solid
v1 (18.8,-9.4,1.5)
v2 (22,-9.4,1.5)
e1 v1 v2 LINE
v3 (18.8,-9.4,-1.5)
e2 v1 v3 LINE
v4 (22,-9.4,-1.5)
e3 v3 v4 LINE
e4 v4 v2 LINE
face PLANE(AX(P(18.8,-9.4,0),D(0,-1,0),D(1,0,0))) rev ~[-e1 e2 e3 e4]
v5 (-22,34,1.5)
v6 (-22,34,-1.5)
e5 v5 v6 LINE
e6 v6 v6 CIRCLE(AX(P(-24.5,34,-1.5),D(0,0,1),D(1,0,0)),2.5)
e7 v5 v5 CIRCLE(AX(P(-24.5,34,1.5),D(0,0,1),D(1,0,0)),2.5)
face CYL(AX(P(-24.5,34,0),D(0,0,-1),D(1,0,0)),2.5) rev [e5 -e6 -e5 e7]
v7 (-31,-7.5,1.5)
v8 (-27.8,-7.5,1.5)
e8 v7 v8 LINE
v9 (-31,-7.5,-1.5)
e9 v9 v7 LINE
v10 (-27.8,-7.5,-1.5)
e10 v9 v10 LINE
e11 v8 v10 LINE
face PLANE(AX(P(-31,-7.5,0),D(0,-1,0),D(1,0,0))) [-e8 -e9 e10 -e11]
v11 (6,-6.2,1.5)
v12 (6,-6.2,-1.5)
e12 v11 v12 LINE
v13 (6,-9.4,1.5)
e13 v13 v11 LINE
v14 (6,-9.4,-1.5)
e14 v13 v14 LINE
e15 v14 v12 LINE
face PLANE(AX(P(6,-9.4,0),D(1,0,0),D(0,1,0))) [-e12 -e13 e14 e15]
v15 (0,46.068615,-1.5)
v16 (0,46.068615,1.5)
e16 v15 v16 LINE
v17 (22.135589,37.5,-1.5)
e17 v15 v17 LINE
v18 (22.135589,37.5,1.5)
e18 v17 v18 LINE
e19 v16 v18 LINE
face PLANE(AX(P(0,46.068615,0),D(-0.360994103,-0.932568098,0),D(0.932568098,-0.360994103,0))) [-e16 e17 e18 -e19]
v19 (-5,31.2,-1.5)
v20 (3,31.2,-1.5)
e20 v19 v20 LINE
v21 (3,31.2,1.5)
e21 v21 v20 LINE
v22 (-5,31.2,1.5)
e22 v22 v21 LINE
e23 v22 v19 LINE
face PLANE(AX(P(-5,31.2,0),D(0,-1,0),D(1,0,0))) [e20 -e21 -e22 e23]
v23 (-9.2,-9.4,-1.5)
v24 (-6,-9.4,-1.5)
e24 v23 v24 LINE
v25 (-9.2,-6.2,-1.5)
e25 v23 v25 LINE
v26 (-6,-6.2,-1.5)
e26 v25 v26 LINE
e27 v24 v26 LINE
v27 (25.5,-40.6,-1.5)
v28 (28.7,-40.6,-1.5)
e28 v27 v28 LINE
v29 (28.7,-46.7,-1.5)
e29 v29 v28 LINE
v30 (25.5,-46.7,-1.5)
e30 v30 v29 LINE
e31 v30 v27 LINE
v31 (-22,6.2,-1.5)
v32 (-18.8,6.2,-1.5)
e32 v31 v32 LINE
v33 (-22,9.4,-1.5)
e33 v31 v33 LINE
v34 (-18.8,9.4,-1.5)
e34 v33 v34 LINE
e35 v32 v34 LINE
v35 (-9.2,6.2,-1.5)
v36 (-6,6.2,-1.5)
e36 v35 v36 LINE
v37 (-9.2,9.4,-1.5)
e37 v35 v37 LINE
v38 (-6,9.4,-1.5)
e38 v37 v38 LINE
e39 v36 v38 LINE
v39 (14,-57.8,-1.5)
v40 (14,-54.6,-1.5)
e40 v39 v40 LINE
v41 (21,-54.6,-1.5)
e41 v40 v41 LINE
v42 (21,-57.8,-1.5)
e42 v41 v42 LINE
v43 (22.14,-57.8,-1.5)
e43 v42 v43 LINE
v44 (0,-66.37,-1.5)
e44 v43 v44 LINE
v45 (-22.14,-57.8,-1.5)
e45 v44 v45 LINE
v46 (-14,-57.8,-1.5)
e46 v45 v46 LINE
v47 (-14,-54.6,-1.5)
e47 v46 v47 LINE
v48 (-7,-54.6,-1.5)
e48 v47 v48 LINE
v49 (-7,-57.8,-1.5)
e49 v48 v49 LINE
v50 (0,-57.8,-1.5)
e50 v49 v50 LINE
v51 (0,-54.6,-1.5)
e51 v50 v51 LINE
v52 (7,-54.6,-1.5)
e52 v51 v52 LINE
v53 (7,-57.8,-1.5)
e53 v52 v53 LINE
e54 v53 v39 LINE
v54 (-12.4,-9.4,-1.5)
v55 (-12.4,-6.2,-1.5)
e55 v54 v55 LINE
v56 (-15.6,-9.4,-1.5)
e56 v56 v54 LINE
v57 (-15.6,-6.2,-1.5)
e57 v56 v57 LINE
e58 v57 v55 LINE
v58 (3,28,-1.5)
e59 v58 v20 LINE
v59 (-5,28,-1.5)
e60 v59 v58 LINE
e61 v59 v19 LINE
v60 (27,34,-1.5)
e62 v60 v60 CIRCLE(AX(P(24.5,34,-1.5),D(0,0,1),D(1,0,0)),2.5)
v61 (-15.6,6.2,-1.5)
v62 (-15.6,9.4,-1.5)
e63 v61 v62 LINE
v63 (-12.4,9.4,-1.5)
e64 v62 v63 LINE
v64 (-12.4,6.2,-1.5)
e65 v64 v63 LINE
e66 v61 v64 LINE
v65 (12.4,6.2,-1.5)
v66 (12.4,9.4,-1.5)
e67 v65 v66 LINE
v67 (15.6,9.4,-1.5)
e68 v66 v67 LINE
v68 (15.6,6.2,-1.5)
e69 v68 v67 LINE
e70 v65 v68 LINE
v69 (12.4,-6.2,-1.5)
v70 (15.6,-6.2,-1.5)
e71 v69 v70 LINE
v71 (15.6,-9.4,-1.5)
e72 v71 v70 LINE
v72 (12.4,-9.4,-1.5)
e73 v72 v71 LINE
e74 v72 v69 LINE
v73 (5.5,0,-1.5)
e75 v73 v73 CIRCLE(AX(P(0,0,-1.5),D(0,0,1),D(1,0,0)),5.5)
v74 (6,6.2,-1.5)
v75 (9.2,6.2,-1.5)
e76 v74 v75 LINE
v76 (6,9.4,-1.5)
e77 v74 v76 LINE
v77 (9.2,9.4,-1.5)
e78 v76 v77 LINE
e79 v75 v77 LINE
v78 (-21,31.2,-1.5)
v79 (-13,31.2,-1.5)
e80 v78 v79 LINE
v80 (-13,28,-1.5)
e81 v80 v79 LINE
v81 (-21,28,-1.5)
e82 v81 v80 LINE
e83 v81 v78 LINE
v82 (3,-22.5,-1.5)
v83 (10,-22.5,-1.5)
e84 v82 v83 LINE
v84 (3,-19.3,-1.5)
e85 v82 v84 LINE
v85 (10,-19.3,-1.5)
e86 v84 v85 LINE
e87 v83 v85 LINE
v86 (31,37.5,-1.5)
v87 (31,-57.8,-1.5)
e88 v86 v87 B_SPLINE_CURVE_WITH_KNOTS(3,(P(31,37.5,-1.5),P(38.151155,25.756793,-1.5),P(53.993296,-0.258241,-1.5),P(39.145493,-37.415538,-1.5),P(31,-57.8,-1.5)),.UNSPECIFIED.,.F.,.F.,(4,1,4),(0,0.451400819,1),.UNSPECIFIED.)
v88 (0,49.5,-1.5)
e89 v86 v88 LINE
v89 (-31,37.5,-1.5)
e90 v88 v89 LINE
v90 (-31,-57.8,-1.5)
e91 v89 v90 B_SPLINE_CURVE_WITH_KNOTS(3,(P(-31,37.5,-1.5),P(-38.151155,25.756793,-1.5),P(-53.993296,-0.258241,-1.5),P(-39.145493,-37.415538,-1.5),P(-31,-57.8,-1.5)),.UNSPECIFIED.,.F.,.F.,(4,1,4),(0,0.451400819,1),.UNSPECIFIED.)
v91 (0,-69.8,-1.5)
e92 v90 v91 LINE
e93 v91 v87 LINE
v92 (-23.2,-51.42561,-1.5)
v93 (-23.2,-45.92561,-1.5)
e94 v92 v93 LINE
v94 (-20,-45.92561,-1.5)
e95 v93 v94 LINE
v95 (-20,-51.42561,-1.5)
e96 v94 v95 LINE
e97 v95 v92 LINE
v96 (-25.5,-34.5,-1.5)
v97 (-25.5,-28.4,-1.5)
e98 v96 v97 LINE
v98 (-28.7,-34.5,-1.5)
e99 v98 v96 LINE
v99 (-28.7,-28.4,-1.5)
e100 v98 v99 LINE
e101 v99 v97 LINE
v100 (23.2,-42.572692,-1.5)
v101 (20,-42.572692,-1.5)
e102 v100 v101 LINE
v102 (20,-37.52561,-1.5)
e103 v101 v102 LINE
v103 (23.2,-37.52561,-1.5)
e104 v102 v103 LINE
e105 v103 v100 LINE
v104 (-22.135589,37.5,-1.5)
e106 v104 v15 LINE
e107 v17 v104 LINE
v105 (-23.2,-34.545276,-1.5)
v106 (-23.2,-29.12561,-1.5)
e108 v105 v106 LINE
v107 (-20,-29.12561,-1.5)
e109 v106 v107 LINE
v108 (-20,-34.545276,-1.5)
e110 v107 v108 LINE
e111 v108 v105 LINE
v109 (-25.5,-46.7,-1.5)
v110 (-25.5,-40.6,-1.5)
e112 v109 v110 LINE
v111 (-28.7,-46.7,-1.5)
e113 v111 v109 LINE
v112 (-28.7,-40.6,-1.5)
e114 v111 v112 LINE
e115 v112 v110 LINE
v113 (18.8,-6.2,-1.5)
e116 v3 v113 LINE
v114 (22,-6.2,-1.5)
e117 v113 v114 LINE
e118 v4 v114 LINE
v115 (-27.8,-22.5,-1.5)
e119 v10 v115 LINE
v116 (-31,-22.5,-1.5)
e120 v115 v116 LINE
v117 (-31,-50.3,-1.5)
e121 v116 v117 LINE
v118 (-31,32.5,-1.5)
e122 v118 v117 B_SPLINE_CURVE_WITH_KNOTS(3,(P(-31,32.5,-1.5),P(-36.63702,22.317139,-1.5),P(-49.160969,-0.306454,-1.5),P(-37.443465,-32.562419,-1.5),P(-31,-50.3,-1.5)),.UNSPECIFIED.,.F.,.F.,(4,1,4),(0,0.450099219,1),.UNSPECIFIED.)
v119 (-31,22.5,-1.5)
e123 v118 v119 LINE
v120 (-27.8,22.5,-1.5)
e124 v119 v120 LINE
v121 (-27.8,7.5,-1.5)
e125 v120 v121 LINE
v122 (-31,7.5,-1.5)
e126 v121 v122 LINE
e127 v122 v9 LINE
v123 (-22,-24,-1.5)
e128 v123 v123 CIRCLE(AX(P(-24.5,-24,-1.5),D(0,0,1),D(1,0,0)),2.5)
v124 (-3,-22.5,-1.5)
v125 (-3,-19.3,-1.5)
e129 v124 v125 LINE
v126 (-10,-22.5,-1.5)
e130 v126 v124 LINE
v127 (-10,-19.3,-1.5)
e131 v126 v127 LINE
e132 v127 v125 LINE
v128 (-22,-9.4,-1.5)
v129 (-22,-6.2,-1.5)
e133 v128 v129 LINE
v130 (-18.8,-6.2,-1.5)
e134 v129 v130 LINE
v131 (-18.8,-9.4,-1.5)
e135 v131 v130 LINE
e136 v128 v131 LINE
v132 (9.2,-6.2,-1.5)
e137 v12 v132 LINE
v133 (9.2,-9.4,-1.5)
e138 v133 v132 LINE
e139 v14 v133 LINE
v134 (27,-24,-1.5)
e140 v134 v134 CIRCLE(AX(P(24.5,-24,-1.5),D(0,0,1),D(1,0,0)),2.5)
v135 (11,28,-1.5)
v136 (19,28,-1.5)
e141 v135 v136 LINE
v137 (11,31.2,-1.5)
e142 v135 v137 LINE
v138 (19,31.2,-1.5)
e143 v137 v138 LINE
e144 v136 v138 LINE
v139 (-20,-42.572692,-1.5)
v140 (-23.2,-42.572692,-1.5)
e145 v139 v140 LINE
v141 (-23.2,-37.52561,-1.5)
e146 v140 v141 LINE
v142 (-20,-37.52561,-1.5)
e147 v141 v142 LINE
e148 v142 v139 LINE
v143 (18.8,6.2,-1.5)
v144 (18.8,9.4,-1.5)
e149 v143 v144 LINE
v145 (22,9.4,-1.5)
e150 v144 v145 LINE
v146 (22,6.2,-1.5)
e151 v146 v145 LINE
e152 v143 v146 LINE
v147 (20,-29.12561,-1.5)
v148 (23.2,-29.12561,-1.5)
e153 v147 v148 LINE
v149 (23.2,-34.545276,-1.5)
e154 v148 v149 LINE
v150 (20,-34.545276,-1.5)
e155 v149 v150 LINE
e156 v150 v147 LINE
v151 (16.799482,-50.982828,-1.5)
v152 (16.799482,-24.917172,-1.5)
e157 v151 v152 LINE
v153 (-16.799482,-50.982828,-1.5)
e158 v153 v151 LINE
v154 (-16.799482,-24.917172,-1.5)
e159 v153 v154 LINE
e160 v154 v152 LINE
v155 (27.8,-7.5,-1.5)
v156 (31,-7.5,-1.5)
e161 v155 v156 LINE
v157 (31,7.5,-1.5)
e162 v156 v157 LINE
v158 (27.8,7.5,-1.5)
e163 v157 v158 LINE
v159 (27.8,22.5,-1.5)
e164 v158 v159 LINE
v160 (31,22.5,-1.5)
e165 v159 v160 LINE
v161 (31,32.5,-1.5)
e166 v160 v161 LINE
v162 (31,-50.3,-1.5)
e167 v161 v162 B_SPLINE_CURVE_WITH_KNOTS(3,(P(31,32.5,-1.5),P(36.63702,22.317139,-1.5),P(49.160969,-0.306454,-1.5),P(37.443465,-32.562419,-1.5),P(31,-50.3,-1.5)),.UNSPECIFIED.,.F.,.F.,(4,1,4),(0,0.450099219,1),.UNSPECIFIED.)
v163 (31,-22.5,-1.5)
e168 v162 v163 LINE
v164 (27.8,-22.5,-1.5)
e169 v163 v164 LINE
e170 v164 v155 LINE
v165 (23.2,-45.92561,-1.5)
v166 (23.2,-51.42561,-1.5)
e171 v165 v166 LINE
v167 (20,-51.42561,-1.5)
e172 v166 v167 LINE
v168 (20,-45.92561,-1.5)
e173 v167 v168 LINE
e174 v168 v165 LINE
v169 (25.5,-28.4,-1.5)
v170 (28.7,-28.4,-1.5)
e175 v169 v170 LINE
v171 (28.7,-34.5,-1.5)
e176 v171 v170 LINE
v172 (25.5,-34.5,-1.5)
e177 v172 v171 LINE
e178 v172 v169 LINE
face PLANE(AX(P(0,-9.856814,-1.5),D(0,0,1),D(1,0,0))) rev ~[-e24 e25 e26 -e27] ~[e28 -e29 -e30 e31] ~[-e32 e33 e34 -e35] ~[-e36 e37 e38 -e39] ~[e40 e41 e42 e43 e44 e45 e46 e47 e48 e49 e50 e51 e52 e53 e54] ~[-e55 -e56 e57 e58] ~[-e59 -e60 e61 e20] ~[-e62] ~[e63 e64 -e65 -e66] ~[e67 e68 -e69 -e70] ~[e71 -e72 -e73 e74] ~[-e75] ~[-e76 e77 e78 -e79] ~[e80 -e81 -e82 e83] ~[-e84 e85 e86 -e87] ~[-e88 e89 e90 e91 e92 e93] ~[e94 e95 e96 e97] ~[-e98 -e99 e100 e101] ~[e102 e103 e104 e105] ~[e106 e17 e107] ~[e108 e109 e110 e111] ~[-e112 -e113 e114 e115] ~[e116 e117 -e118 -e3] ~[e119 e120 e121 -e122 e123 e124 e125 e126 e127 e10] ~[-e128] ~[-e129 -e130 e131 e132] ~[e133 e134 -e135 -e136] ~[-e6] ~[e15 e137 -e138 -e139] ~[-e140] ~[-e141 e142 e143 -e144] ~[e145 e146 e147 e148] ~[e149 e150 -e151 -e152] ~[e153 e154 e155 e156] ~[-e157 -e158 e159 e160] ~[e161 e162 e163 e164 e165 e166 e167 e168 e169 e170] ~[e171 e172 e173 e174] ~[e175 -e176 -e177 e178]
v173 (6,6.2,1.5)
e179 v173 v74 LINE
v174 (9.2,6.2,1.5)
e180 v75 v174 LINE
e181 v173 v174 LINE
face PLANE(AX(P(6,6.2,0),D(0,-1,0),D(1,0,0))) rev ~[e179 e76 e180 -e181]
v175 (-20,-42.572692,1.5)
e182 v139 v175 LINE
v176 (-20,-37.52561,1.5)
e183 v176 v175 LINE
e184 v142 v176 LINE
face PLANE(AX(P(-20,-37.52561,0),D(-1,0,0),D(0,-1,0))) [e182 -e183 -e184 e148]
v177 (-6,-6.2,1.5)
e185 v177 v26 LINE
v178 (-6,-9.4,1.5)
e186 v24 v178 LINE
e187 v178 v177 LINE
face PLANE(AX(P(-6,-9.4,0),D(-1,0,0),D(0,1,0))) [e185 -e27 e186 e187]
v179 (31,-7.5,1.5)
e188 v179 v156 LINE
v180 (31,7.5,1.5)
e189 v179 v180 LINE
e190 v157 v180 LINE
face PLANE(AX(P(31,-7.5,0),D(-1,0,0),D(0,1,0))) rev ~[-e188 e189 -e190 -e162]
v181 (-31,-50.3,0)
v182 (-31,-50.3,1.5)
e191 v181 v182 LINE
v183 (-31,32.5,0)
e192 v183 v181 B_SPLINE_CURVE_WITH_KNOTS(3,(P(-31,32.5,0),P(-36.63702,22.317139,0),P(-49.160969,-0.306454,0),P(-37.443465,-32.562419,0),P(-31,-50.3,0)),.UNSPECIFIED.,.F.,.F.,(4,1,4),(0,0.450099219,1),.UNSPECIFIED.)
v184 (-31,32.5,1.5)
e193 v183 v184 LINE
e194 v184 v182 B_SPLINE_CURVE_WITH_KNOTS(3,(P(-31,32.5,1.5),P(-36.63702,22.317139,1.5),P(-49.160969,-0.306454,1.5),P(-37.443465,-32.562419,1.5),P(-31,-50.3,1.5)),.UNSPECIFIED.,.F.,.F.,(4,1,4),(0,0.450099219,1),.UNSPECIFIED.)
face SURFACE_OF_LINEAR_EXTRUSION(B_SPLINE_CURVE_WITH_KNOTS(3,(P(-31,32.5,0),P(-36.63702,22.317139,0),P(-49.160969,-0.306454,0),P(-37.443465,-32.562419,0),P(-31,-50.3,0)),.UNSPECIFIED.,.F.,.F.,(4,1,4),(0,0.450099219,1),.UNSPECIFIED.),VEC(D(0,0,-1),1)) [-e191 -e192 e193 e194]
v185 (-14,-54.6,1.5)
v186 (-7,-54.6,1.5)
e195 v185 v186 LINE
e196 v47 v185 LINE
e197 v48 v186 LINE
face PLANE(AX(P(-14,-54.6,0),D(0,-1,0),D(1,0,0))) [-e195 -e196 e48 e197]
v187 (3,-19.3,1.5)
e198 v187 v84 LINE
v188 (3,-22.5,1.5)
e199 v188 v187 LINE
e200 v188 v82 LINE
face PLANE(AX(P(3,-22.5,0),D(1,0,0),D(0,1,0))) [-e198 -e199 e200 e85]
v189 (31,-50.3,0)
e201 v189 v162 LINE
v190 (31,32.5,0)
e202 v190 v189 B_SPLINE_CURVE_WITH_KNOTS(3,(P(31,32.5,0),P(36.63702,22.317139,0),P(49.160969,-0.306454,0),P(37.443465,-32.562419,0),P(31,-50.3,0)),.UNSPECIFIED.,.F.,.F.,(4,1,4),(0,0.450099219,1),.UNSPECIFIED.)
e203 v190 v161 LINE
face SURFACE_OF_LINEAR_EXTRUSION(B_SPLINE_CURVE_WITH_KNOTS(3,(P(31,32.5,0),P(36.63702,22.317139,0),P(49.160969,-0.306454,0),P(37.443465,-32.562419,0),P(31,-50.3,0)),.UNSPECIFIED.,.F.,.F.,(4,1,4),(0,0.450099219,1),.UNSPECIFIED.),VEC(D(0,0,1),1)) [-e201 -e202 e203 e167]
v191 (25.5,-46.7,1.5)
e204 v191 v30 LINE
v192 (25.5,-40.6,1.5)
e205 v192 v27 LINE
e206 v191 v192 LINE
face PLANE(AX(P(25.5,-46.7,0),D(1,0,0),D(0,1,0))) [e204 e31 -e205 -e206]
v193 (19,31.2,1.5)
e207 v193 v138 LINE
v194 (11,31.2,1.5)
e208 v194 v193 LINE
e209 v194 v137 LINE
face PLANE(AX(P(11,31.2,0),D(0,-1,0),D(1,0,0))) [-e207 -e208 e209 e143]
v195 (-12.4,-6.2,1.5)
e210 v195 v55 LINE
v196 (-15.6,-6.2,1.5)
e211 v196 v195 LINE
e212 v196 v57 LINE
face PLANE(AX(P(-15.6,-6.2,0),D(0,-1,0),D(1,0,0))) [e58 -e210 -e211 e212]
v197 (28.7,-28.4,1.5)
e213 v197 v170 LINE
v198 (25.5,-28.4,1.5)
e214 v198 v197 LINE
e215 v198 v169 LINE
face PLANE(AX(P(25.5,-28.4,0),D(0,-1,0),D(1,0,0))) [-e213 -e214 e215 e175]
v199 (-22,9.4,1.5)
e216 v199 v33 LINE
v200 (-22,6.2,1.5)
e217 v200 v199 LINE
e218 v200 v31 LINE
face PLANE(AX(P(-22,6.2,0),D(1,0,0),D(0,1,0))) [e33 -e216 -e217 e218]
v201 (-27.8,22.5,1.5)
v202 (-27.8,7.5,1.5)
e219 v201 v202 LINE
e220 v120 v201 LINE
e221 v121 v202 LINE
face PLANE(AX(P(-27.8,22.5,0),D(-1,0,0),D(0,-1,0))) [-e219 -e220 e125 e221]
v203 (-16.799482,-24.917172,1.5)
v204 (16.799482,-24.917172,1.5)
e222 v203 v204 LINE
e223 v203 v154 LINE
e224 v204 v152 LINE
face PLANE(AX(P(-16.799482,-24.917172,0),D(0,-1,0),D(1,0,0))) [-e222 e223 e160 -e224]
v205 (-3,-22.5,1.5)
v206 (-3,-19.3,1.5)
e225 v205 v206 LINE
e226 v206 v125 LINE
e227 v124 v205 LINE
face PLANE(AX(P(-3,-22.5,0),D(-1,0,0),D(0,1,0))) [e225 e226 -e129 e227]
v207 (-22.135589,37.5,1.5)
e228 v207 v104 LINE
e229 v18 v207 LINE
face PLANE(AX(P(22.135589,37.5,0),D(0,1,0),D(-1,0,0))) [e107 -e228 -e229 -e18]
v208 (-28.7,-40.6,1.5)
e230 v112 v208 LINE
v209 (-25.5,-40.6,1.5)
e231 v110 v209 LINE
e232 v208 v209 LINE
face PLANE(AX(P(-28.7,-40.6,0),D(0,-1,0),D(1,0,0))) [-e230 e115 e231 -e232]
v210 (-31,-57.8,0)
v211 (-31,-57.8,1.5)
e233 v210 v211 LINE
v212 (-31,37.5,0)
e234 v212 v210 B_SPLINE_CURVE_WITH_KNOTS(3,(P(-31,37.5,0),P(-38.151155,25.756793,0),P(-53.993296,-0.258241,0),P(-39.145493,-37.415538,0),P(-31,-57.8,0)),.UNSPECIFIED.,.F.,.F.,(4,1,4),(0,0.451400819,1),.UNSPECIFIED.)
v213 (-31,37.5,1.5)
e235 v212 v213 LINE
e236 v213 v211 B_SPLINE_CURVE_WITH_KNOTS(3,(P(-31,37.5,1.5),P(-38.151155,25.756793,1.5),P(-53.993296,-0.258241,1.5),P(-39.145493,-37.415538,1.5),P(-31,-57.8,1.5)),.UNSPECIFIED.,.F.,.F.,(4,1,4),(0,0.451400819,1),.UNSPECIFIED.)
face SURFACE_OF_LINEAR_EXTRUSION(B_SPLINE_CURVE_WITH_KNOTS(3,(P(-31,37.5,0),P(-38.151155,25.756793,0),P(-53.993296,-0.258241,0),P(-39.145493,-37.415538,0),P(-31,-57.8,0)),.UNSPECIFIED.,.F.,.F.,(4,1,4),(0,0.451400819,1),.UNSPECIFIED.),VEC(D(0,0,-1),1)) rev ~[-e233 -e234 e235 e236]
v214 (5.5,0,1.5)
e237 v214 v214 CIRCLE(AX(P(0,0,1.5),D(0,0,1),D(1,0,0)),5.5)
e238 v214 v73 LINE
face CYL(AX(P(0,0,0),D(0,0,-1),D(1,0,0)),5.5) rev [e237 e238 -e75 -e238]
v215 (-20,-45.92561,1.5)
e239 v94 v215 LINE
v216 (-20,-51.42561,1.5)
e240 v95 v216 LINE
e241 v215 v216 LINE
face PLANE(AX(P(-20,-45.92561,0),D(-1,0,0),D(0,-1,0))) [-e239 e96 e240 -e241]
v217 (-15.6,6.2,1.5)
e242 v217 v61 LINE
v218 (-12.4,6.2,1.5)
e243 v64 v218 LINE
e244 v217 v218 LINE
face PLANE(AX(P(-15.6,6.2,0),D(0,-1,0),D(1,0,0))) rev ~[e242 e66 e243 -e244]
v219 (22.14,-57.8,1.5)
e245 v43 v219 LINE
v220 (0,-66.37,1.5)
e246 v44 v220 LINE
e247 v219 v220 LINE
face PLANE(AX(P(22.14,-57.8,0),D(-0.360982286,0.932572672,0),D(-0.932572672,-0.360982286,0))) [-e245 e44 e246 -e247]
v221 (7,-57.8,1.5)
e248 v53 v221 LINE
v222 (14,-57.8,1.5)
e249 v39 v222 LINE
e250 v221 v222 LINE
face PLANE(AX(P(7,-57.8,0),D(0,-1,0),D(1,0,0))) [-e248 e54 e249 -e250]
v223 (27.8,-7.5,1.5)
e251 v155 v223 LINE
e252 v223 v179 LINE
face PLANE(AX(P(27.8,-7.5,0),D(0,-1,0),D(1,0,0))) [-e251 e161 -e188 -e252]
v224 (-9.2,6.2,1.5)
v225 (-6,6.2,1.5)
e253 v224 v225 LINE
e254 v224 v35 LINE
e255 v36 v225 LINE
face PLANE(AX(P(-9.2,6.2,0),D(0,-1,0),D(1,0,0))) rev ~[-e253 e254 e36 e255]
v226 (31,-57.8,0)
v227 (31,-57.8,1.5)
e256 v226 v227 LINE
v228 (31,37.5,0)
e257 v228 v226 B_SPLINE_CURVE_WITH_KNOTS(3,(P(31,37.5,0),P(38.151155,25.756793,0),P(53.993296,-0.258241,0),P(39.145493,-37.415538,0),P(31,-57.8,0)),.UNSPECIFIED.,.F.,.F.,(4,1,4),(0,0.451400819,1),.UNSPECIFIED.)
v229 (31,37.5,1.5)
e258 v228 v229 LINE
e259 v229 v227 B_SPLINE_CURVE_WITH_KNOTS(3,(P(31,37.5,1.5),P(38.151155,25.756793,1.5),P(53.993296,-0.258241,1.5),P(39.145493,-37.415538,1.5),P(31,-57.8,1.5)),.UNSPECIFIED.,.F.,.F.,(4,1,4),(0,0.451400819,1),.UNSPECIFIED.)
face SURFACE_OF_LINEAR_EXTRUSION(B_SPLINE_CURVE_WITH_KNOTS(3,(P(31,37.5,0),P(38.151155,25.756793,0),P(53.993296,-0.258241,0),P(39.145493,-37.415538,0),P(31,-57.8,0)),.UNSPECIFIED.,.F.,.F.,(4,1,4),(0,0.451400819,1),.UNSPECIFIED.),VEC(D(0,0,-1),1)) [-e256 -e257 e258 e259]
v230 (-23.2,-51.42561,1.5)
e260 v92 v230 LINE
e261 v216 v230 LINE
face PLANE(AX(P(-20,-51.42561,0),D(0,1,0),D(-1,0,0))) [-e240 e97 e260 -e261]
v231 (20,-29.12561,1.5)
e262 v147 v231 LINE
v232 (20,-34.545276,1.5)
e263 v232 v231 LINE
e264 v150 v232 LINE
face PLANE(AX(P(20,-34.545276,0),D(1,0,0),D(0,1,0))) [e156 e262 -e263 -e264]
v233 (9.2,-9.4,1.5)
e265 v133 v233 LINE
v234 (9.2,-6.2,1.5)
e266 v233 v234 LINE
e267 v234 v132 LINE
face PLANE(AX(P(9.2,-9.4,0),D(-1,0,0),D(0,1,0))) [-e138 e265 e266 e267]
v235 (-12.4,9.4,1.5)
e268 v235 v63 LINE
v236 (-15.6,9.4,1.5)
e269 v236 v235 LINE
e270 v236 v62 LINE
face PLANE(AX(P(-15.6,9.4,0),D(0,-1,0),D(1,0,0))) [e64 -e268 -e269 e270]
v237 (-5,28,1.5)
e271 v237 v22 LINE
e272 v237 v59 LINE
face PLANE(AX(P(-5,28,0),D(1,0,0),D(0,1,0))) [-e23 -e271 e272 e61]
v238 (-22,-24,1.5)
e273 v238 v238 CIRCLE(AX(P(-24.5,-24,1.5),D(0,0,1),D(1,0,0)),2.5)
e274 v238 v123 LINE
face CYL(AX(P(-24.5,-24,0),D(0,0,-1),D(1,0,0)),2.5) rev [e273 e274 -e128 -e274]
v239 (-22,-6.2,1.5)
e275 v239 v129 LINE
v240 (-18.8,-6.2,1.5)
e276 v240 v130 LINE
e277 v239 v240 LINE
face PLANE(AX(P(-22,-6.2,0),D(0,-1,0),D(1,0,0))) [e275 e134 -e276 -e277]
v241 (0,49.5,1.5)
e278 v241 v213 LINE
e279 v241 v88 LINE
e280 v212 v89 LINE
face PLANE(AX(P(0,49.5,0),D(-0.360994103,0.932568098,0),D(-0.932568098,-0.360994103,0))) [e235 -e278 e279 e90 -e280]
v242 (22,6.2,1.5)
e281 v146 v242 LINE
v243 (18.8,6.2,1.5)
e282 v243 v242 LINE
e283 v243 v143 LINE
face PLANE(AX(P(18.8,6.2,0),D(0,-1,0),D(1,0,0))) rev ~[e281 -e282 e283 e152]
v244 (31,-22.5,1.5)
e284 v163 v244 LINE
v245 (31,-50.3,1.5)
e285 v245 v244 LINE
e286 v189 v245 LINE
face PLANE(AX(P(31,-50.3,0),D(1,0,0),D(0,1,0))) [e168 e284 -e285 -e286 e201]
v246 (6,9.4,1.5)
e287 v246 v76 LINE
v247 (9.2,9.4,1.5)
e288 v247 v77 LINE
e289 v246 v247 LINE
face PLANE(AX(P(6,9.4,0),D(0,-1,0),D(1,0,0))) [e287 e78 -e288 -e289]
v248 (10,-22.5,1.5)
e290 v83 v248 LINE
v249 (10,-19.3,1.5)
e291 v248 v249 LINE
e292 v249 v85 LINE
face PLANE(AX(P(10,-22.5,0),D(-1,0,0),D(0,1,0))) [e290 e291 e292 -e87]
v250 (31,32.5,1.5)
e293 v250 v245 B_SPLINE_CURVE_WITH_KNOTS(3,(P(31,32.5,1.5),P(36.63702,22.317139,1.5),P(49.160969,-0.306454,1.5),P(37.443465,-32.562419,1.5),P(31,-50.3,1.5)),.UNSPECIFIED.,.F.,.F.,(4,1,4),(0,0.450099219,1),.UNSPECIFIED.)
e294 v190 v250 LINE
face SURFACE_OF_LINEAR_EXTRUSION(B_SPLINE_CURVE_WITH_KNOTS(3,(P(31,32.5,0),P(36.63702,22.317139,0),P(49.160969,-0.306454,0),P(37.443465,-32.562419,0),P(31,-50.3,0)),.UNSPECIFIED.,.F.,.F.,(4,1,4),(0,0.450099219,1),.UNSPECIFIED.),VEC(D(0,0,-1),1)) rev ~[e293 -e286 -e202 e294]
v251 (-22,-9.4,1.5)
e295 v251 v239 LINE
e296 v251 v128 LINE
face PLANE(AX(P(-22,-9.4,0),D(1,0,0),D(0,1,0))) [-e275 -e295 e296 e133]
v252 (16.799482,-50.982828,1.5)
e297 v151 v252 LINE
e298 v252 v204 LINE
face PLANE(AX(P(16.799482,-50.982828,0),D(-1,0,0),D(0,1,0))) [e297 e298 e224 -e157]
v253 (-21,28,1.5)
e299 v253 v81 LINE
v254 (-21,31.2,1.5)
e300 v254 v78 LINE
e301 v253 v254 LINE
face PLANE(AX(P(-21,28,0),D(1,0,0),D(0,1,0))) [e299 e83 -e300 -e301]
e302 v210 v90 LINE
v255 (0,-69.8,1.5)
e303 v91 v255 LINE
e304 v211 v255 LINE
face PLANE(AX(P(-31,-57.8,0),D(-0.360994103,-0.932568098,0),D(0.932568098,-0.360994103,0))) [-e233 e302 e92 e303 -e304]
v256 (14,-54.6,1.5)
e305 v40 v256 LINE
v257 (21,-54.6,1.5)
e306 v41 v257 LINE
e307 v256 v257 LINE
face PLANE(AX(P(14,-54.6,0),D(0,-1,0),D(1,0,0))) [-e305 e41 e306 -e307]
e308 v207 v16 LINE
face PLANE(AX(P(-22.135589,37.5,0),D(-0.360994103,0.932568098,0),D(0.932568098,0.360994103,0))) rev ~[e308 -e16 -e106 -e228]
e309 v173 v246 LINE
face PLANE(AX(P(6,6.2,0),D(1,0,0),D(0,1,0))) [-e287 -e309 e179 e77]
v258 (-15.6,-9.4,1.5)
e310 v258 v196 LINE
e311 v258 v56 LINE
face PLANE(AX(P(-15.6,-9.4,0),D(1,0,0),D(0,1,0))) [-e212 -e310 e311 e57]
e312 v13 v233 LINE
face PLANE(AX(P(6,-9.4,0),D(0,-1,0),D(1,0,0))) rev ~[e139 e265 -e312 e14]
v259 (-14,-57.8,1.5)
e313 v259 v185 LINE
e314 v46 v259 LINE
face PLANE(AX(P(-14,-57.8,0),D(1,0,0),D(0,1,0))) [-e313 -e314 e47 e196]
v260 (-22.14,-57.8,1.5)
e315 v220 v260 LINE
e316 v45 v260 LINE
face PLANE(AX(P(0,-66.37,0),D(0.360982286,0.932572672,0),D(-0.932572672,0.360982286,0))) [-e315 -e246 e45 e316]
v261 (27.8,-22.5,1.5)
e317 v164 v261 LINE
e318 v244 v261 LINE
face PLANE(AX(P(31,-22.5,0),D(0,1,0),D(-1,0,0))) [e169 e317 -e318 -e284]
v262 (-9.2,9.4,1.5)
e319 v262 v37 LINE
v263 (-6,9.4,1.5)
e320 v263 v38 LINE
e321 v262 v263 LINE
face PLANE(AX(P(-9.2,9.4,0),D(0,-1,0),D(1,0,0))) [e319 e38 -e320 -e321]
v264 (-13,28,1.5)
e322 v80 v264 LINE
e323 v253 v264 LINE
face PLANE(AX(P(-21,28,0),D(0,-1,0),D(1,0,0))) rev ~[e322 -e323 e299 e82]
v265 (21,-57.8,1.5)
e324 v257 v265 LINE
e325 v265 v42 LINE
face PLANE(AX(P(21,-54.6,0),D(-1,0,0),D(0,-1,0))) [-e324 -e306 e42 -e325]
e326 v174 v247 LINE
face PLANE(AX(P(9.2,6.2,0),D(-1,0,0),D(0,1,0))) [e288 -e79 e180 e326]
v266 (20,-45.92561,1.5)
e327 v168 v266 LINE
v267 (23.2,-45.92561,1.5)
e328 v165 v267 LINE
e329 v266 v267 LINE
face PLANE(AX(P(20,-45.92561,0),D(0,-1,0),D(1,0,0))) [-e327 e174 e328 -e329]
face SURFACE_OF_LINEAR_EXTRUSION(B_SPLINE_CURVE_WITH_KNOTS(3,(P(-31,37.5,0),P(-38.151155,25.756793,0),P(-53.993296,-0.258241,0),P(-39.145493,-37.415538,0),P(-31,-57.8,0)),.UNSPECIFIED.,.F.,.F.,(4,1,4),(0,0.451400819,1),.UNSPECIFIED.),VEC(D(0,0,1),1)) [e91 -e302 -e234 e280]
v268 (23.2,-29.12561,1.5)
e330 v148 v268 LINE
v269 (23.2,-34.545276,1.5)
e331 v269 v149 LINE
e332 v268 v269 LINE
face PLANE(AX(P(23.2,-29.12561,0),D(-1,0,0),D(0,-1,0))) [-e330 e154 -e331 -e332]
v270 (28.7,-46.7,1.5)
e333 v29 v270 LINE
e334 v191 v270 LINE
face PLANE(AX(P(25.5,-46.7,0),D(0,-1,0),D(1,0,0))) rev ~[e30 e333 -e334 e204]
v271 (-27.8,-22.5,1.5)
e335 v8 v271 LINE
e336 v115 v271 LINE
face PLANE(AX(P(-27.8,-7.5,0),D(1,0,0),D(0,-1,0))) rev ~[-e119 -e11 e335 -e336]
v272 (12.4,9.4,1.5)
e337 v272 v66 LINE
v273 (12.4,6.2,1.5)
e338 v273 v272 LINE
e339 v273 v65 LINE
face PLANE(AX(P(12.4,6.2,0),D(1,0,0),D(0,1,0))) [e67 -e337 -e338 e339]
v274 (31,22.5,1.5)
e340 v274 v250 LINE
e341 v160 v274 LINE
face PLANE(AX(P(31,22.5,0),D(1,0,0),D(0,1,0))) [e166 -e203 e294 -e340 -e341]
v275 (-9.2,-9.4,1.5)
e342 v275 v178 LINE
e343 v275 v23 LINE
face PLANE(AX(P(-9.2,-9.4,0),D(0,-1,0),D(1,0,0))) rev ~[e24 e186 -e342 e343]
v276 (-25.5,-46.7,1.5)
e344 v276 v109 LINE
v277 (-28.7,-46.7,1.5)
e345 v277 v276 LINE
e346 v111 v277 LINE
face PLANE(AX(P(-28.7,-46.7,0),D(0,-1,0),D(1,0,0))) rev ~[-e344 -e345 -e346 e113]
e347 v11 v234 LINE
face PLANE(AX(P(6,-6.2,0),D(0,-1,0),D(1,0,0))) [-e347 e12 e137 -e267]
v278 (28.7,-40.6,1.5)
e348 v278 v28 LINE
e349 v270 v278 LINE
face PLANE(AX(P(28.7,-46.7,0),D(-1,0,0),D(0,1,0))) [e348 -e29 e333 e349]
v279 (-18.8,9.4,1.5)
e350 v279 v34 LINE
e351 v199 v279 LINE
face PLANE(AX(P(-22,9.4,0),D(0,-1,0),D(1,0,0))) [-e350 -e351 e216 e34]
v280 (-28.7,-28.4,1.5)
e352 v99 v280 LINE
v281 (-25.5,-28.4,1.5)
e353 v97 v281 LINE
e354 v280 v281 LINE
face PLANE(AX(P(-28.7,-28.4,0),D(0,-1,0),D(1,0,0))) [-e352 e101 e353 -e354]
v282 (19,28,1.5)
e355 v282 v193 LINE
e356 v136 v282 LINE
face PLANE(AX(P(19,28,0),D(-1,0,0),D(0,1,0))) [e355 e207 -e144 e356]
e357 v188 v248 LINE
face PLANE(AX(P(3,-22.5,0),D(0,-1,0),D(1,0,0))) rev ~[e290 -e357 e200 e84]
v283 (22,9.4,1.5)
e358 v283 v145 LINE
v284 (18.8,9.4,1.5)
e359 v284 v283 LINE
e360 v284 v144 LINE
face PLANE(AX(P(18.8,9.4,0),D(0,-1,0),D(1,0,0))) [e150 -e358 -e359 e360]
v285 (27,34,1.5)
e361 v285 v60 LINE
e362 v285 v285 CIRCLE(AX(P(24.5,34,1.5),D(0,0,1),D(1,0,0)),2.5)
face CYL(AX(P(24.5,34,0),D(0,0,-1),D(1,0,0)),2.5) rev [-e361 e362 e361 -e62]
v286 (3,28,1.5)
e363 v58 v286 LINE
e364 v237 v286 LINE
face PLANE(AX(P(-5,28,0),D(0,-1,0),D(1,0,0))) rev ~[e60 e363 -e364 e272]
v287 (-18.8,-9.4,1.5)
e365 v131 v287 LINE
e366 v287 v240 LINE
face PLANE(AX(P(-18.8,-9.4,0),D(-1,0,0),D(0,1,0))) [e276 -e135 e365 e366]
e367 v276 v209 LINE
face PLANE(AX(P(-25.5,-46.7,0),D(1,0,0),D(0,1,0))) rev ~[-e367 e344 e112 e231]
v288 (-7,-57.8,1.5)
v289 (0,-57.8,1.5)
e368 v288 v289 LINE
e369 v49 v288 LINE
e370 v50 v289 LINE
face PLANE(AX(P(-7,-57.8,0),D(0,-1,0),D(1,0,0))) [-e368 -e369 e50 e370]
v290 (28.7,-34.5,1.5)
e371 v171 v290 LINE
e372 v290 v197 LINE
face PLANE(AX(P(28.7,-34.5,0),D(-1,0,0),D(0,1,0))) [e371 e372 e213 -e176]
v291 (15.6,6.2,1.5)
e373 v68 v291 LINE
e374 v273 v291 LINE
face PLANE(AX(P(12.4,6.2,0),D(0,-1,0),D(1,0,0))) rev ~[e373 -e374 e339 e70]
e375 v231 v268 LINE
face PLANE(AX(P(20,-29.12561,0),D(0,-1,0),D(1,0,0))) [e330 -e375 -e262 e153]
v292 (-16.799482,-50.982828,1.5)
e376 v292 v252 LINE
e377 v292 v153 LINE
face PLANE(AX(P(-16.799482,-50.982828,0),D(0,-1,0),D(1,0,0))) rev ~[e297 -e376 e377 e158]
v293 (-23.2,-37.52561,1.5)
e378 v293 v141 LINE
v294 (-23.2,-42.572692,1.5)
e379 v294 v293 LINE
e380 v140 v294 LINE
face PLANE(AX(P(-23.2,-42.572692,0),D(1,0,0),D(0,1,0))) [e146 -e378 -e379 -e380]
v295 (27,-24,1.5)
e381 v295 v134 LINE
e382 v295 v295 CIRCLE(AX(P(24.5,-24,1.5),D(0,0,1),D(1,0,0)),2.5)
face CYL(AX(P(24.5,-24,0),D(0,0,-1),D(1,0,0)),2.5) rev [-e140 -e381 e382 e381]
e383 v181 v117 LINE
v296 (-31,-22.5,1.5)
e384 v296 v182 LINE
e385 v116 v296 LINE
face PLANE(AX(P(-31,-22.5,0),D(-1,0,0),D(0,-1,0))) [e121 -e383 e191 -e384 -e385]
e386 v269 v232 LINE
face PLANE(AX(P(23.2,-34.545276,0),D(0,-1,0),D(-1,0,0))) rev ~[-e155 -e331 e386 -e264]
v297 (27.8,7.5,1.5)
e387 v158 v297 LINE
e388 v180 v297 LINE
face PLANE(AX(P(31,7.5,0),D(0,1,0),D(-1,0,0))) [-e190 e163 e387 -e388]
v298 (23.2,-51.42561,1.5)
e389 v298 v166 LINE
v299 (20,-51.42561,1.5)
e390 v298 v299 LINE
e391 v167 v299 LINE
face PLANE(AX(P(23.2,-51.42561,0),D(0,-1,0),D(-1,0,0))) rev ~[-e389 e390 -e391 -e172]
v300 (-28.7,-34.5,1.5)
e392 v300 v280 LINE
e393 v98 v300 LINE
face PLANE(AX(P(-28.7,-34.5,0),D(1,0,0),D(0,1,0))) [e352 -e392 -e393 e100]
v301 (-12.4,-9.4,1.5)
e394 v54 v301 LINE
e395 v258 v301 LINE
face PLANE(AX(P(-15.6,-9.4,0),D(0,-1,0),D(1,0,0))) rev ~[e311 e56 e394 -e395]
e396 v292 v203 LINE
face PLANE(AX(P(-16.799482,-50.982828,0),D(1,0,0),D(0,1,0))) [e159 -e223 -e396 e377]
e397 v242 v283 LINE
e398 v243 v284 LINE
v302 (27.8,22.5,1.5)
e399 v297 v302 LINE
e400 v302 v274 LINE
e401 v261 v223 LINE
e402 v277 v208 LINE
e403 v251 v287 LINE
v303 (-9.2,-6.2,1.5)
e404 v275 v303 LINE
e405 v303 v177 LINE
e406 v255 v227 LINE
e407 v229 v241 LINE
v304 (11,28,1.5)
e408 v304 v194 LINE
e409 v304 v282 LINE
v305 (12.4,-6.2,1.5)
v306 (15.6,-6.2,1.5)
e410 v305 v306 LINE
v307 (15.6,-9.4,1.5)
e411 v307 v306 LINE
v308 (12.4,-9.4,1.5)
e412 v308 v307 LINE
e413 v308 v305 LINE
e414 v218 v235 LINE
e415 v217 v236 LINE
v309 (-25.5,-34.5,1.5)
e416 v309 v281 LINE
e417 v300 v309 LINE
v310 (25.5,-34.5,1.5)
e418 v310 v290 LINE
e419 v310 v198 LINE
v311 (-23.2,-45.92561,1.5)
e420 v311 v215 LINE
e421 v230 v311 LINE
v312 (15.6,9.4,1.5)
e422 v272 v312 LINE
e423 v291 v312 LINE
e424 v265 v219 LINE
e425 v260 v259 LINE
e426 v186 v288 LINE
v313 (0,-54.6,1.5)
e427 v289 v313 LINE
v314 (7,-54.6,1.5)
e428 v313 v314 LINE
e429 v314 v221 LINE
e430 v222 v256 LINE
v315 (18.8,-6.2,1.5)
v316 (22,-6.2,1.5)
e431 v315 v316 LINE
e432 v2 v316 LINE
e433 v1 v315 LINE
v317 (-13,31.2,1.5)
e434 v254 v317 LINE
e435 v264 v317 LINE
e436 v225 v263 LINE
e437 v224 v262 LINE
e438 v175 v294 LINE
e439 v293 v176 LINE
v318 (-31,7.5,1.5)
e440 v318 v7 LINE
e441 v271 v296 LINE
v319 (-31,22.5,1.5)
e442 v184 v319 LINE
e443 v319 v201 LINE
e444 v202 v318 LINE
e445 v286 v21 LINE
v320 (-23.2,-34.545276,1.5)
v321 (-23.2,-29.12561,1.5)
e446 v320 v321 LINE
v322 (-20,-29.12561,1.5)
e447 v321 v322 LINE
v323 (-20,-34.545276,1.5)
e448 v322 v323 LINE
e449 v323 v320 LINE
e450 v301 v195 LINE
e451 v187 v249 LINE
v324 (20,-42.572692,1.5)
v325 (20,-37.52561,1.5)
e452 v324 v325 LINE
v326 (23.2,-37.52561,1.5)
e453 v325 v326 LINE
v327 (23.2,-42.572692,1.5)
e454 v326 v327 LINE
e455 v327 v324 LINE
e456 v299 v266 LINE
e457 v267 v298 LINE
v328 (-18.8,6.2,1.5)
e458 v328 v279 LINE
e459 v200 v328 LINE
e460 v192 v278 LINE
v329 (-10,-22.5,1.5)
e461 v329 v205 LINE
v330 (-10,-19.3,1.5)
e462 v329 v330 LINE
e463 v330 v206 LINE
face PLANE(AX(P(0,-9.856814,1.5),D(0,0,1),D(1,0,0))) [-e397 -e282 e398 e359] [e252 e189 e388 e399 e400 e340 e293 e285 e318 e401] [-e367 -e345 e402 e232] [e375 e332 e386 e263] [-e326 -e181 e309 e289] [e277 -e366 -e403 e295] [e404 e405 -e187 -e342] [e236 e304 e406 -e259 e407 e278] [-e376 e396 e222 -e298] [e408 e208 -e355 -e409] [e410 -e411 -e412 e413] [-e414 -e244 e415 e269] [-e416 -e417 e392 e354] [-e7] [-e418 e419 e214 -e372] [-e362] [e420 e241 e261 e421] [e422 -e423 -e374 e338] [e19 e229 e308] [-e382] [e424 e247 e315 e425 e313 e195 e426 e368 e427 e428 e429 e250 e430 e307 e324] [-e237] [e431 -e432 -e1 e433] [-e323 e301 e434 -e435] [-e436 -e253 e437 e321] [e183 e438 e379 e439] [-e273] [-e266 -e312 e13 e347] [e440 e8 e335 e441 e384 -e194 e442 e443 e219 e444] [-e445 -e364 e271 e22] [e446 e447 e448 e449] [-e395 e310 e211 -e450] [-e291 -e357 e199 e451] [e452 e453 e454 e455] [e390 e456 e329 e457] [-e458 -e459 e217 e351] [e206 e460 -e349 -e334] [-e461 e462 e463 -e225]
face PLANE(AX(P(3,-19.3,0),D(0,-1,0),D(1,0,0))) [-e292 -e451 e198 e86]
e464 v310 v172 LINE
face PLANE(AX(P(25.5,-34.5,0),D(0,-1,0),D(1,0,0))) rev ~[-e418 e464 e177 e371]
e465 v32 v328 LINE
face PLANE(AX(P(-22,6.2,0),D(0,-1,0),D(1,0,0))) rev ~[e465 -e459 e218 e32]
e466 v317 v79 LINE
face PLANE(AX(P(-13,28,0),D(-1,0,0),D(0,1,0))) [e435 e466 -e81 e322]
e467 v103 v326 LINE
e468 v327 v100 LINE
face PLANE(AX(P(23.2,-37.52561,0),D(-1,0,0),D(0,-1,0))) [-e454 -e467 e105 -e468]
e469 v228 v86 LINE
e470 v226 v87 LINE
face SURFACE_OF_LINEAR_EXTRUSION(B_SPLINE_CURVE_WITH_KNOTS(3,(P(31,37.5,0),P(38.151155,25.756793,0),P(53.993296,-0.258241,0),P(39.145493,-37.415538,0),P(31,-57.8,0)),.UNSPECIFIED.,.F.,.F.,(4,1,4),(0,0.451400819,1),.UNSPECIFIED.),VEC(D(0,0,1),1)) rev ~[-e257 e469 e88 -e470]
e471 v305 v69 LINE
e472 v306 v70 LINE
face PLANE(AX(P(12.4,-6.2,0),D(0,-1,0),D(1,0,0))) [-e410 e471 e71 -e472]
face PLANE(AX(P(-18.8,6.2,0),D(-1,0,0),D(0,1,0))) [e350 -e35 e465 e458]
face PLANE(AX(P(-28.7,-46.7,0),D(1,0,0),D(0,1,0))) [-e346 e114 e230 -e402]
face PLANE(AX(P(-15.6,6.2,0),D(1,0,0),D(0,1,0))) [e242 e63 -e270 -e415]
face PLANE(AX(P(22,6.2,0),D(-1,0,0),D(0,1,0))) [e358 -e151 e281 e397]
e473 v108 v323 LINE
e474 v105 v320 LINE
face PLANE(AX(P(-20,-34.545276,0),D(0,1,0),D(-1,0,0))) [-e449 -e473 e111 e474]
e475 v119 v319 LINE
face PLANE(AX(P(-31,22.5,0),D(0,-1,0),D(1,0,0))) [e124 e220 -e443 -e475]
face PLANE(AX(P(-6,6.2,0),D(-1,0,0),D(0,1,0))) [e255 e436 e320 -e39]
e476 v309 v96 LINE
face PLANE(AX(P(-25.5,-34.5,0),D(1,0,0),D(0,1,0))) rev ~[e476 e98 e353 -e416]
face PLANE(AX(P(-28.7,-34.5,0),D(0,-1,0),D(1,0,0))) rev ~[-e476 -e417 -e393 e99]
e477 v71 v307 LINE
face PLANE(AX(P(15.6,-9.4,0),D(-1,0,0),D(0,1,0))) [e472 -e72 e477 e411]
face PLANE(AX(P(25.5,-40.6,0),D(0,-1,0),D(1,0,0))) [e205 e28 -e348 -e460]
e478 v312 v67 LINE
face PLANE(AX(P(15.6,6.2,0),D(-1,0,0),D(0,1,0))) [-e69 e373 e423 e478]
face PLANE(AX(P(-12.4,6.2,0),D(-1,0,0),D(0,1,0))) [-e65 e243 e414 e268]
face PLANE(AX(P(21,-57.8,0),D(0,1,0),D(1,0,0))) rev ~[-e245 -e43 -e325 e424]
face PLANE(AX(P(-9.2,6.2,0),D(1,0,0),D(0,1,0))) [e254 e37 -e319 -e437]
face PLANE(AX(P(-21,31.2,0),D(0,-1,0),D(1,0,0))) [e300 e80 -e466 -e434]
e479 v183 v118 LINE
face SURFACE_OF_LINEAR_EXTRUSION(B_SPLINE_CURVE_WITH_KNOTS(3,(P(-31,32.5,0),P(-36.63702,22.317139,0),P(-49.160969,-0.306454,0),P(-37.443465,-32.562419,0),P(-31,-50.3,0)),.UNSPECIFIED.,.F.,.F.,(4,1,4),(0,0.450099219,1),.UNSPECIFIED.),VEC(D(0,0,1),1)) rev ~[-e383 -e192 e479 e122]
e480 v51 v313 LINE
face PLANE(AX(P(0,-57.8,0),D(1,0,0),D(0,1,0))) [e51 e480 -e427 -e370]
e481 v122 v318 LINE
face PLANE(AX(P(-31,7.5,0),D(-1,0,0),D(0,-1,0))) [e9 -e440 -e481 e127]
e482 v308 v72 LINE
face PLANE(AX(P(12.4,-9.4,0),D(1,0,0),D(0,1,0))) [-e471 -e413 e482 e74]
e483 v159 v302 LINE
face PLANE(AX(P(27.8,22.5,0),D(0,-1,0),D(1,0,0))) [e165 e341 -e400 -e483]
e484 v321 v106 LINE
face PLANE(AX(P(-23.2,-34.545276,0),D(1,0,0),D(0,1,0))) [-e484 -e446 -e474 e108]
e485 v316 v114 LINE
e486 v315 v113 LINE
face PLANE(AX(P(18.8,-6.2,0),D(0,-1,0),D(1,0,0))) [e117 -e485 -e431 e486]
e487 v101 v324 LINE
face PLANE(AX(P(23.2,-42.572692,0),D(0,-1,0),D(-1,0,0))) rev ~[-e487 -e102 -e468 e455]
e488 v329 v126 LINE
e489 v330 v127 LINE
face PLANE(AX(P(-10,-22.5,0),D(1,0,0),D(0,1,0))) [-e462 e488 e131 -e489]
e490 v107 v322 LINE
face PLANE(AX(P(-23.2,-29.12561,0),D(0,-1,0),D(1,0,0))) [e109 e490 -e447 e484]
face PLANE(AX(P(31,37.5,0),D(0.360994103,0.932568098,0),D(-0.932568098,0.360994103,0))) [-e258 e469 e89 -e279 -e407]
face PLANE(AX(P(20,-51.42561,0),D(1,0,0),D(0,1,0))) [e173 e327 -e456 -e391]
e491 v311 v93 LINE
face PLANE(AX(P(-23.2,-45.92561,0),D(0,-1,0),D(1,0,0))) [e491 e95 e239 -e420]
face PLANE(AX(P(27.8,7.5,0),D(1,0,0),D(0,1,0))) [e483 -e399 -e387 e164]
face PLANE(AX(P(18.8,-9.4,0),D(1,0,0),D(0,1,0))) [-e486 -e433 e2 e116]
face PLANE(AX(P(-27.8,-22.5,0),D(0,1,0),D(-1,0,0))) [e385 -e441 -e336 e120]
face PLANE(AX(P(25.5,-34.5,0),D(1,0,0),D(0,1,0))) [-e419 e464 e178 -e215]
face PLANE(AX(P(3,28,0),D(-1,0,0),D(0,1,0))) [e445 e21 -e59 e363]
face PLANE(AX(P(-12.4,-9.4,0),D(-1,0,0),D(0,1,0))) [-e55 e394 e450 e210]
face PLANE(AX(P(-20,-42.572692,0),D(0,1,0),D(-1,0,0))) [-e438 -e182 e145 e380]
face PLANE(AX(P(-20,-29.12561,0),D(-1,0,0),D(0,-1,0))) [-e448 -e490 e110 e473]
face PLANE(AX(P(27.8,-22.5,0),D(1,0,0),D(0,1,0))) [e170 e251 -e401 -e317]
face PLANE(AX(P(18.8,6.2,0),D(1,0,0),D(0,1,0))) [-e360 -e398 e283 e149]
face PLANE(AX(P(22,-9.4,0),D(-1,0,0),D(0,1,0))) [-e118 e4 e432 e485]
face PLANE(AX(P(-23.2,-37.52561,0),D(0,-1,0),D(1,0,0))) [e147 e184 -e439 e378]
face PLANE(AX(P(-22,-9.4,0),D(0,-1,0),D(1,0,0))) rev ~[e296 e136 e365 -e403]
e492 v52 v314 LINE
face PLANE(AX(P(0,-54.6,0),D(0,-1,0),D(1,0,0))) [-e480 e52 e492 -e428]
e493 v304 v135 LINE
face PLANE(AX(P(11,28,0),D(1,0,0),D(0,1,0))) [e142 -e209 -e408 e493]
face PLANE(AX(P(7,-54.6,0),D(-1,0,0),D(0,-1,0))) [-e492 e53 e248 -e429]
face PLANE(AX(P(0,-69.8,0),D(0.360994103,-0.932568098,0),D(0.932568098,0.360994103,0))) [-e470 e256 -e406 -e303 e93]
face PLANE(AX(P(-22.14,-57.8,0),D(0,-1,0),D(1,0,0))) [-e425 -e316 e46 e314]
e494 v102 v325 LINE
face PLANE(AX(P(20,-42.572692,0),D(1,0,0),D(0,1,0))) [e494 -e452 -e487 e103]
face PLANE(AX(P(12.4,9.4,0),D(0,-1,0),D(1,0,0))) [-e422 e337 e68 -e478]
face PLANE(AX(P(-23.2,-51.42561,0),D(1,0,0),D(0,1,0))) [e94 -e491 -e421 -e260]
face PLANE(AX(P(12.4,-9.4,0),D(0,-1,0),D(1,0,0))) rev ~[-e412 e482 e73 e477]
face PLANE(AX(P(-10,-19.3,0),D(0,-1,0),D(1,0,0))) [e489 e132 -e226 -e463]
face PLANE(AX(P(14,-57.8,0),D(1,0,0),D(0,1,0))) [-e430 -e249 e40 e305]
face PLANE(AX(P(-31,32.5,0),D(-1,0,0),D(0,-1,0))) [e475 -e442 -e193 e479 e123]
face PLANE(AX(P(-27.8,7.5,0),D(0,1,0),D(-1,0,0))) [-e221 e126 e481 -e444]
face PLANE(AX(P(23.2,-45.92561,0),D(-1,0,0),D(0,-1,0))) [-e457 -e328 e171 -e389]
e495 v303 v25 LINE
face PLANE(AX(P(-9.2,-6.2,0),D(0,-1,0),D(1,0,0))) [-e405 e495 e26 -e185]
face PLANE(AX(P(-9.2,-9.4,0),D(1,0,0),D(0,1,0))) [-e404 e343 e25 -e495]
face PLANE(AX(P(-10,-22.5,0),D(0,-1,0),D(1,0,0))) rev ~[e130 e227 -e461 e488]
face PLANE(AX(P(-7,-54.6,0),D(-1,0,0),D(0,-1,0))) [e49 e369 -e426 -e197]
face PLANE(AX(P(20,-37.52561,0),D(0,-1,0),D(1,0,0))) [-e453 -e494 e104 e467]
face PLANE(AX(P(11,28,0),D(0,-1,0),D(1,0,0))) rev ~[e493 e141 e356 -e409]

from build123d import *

# Parameters (mm, degrees)
F0_W     = 3.2
F0_H     = 6.1
F0_R     = 2.5
F0_W_2   = 7
F0_H_2   = 3.2
F0_W_3   = 33.5989631712
F0_H_3   = 26.0656554639
F0_W_4   = 8
F0_R_2   = 5.5
F1_DEPTH = 1.5


with BuildPart() as f1:
    # F0 (on Top) → F1 (new body, symmetric)
    with BuildSketch(Plane.XY):
        with BuildLine():
            Line((0, 49.5), (-31, 37.5))
            add(Edge.make_bspline(
                [(-31, 37.5), (-38.1511552694, 25.7567925156), (-53.9932959403, -0.2582411241), (-39.1454927008, -37.415537584), (-31, -57.8)],
                knots=[0, 0, 0, 0, 0.4514008187, 1, 1, 1, 1], degree=3))
            Line((-31, -57.8), (0, -69.8))
            Line((0, -69.8), (31, -57.8))
            add(Edge.make_bspline(
                [(31, 37.5), (38.1511552694, 25.7567925156), (53.9932959403, -0.2582411241), (39.1454927008, -37.415537584), (31, -57.8)],
                knots=[0, 0, 0, 0, 0.4514008187, 1, 1, 1, 1], degree=3))
            Line((31, 37.5), (0, 49.5))
        make_face()
        with Locations((-27.1, -43.65)):
            Rectangle(F0_W, F0_H, mode=Mode.SUBTRACT)
        Polygon((-20, -45.92561), (-20, -50.12561), (-20, -51.42561), (-23.2, -51.42561), (-23.2, -50.12561), (-23.2, -45.92561), align=None, mode=Mode.SUBTRACT)
        Polygon((-20, -37.52561), (-20, -41.72561), (-20, -42.5726920366), (-23.2, -42.5726920366), (-23.2, -41.72561), (-23.2, -37.52561), align=None, mode=Mode.SUBTRACT)
        with Locations((-27.1, -31.45)):
            Rectangle(F0_W, F0_H, mode=Mode.SUBTRACT)
        Polygon((-20, -29.12561), (-20, -33.32561), (-20, -34.545276314), (-23.2, -34.545276314), (-23.2, -33.32561), (-23.2, -29.12561), align=None, mode=Mode.SUBTRACT)
        with Locations((-24.5, -24)):
            Circle(F0_R, mode=Mode.SUBTRACT)
        with Locations((-6.5, -20.9)):
            Rectangle(F0_W_2, F0_H_2, mode=Mode.SUBTRACT)
        Polygon((0, -66.37), (-22.14, -57.8), (-14, -57.8), (-14, -54.6), (-7, -54.6), (-7, -57.8), (0, -57.8), (0, -54.6), (7, -54.6), (7, -57.8), (14, -57.8), (14, -54.6), (21, -54.6), (21, -57.8), (22.14, -57.8), align=None, mode=Mode.SUBTRACT)
        Polygon((20, -50.12561), (20, -45.92561), (23.2, -45.92561), (23.2, -50.12561), (23.2, -51.42561), (20, -51.42561), align=None, mode=Mode.SUBTRACT)
        Polygon((20, -37.52561), (23.2, -37.52561), (23.2, -41.72561), (23.2, -42.5726920366), (20, -42.5726920366), (20, -41.72561), align=None, mode=Mode.SUBTRACT)
        with Locations((27.1, -43.65)):
            Rectangle(F0_W, F0_H, mode=Mode.SUBTRACT)
        with Locations((0, -37.95)):
            Rectangle(F0_W_3, F0_H_3, mode=Mode.SUBTRACT)
        Polygon((20, -29.12561), (23.2, -29.12561), (23.2, -33.32561), (23.2, -34.545276314), (20, -34.545276314), (20, -33.32561), align=None, mode=Mode.SUBTRACT)
        with Locations((6.5, -20.9)):
            Rectangle(F0_W_2, F0_H_2, mode=Mode.SUBTRACT)
        with Locations((24.5, -24)):
            Circle(F0_R, mode=Mode.SUBTRACT)
        with Locations((27.1, -31.45)):
            Rectangle(F0_W, F0_H, mode=Mode.SUBTRACT)
        with BuildLine():
            Line((-31, -22.5), (-31, -32.5))
            Line((-31, -32.5), (-31, -50.3))
            add(Edge.make_bspline(
                [(-31, 32.5), (-36.6370197512, 22.3171385617), (-49.1609689327, -0.3064541885), (-37.4434647152, -32.5624194988), (-31, -50.3)],
                knots=[0, 0, 0, 0, 0.4500992195, 1, 1, 1, 1], degree=3))
            Line((-31, 32.5), (-31, 22.5))
            Line((-31, 22.5), (-27.8, 22.5))
            Line((-27.8, 22.5), (-27.8, 7.5))
            Line((-27.8, 7.5), (-31, 7.5))
            Line((-31, 7.5), (-31, -7.5))
            Line((-31, -7.5), (-27.8, -7.5))
            Line((-27.8, -7.5), (-27.8, -22.5))
            Line((-27.8, -22.5), (-31, -22.5))
        make_face(mode=Mode.SUBTRACT)
        with Locations((-20.4, -7.8)):
            Rectangle(F0_W, F0_H_2, mode=Mode.SUBTRACT)
        with Locations((-14, -7.8)):
            Rectangle(F0_W, F0_H_2, mode=Mode.SUBTRACT)
        with Locations((-7.6, -7.8)):
            Rectangle(F0_W, F0_H_2, mode=Mode.SUBTRACT)
        with Locations((-20.4, 7.8)):
            Rectangle(F0_W, F0_H_2, mode=Mode.SUBTRACT)
        with Locations((-14, 7.8)):
            Rectangle(F0_W, F0_H_2, mode=Mode.SUBTRACT)
        with Locations((-7.6, 7.8)):
            Rectangle(F0_W, F0_H_2, mode=Mode.SUBTRACT)
        with Locations((-24.5, 34)):
            Circle(F0_R, mode=Mode.SUBTRACT)
        with Locations((-17, 29.6)):
            Rectangle(F0_W_4, F0_H_2, mode=Mode.SUBTRACT)
        with Locations((-1, 29.6)):
            Rectangle(F0_W_4, F0_H_2, mode=Mode.SUBTRACT)
        with Locations((7.6, -7.8)):
            Rectangle(F0_W, F0_H_2, mode=Mode.SUBTRACT)
        Circle(F0_R_2, mode=Mode.SUBTRACT)
        with Locations((14, -7.8)):
            Rectangle(F0_W, F0_H_2, mode=Mode.SUBTRACT)
        with Locations((20.4, -7.8)):
            Rectangle(F0_W, F0_H_2, mode=Mode.SUBTRACT)
        with Locations((7.6, 7.8)):
            Rectangle(F0_W, F0_H_2, mode=Mode.SUBTRACT)
        with Locations((14, 7.8)):
            Rectangle(F0_W, F0_H_2, mode=Mode.SUBTRACT)
        with Locations((20.4, 7.8)):
            Rectangle(F0_W, F0_H_2, mode=Mode.SUBTRACT)
        with BuildLine():
            Line((27.8, 7.5), (27.8, 22.5))
            Line((27.8, 22.5), (31, 22.5))
            Line((31, 22.5), (31, 32.5))
            add(Edge.make_bspline(
                [(31, 32.5), (36.6370197512, 22.3171385617), (49.1609689327, -0.3064541885), (37.4434647152, -32.5624194988), (31, -50.3)],
                knots=[0, 0, 0, 0, 0.4500992195, 1, 1, 1, 1], degree=3))
            Line((31, -50.3), (31, -32.5))
            Line((31, -32.5), (31, -22.5))
            Line((31, -22.5), (27.8, -22.5))
            Line((27.8, -22.5), (27.8, -7.5))
            Line((27.8, -7.5), (31, -7.5))
            Line((31, -7.5), (31, 7.5))
            Line((31, 7.5), (27.8, 7.5))
        make_face(mode=Mode.SUBTRACT)
        with Locations((15, 29.6)):
            Rectangle(F0_W_4, F0_H_2, mode=Mode.SUBTRACT)
        with Locations((24.5, 34)):
            Circle(F0_R, mode=Mode.SUBTRACT)
        Polygon((22.1355892594, 37.5), (0, 37.5), (-22.1355892594, 37.5), (0, 46.0686151972), align=None, mode=Mode.SUBTRACT)
    extrude(amount=F1_DEPTH, both=True)


solid = f1.part
